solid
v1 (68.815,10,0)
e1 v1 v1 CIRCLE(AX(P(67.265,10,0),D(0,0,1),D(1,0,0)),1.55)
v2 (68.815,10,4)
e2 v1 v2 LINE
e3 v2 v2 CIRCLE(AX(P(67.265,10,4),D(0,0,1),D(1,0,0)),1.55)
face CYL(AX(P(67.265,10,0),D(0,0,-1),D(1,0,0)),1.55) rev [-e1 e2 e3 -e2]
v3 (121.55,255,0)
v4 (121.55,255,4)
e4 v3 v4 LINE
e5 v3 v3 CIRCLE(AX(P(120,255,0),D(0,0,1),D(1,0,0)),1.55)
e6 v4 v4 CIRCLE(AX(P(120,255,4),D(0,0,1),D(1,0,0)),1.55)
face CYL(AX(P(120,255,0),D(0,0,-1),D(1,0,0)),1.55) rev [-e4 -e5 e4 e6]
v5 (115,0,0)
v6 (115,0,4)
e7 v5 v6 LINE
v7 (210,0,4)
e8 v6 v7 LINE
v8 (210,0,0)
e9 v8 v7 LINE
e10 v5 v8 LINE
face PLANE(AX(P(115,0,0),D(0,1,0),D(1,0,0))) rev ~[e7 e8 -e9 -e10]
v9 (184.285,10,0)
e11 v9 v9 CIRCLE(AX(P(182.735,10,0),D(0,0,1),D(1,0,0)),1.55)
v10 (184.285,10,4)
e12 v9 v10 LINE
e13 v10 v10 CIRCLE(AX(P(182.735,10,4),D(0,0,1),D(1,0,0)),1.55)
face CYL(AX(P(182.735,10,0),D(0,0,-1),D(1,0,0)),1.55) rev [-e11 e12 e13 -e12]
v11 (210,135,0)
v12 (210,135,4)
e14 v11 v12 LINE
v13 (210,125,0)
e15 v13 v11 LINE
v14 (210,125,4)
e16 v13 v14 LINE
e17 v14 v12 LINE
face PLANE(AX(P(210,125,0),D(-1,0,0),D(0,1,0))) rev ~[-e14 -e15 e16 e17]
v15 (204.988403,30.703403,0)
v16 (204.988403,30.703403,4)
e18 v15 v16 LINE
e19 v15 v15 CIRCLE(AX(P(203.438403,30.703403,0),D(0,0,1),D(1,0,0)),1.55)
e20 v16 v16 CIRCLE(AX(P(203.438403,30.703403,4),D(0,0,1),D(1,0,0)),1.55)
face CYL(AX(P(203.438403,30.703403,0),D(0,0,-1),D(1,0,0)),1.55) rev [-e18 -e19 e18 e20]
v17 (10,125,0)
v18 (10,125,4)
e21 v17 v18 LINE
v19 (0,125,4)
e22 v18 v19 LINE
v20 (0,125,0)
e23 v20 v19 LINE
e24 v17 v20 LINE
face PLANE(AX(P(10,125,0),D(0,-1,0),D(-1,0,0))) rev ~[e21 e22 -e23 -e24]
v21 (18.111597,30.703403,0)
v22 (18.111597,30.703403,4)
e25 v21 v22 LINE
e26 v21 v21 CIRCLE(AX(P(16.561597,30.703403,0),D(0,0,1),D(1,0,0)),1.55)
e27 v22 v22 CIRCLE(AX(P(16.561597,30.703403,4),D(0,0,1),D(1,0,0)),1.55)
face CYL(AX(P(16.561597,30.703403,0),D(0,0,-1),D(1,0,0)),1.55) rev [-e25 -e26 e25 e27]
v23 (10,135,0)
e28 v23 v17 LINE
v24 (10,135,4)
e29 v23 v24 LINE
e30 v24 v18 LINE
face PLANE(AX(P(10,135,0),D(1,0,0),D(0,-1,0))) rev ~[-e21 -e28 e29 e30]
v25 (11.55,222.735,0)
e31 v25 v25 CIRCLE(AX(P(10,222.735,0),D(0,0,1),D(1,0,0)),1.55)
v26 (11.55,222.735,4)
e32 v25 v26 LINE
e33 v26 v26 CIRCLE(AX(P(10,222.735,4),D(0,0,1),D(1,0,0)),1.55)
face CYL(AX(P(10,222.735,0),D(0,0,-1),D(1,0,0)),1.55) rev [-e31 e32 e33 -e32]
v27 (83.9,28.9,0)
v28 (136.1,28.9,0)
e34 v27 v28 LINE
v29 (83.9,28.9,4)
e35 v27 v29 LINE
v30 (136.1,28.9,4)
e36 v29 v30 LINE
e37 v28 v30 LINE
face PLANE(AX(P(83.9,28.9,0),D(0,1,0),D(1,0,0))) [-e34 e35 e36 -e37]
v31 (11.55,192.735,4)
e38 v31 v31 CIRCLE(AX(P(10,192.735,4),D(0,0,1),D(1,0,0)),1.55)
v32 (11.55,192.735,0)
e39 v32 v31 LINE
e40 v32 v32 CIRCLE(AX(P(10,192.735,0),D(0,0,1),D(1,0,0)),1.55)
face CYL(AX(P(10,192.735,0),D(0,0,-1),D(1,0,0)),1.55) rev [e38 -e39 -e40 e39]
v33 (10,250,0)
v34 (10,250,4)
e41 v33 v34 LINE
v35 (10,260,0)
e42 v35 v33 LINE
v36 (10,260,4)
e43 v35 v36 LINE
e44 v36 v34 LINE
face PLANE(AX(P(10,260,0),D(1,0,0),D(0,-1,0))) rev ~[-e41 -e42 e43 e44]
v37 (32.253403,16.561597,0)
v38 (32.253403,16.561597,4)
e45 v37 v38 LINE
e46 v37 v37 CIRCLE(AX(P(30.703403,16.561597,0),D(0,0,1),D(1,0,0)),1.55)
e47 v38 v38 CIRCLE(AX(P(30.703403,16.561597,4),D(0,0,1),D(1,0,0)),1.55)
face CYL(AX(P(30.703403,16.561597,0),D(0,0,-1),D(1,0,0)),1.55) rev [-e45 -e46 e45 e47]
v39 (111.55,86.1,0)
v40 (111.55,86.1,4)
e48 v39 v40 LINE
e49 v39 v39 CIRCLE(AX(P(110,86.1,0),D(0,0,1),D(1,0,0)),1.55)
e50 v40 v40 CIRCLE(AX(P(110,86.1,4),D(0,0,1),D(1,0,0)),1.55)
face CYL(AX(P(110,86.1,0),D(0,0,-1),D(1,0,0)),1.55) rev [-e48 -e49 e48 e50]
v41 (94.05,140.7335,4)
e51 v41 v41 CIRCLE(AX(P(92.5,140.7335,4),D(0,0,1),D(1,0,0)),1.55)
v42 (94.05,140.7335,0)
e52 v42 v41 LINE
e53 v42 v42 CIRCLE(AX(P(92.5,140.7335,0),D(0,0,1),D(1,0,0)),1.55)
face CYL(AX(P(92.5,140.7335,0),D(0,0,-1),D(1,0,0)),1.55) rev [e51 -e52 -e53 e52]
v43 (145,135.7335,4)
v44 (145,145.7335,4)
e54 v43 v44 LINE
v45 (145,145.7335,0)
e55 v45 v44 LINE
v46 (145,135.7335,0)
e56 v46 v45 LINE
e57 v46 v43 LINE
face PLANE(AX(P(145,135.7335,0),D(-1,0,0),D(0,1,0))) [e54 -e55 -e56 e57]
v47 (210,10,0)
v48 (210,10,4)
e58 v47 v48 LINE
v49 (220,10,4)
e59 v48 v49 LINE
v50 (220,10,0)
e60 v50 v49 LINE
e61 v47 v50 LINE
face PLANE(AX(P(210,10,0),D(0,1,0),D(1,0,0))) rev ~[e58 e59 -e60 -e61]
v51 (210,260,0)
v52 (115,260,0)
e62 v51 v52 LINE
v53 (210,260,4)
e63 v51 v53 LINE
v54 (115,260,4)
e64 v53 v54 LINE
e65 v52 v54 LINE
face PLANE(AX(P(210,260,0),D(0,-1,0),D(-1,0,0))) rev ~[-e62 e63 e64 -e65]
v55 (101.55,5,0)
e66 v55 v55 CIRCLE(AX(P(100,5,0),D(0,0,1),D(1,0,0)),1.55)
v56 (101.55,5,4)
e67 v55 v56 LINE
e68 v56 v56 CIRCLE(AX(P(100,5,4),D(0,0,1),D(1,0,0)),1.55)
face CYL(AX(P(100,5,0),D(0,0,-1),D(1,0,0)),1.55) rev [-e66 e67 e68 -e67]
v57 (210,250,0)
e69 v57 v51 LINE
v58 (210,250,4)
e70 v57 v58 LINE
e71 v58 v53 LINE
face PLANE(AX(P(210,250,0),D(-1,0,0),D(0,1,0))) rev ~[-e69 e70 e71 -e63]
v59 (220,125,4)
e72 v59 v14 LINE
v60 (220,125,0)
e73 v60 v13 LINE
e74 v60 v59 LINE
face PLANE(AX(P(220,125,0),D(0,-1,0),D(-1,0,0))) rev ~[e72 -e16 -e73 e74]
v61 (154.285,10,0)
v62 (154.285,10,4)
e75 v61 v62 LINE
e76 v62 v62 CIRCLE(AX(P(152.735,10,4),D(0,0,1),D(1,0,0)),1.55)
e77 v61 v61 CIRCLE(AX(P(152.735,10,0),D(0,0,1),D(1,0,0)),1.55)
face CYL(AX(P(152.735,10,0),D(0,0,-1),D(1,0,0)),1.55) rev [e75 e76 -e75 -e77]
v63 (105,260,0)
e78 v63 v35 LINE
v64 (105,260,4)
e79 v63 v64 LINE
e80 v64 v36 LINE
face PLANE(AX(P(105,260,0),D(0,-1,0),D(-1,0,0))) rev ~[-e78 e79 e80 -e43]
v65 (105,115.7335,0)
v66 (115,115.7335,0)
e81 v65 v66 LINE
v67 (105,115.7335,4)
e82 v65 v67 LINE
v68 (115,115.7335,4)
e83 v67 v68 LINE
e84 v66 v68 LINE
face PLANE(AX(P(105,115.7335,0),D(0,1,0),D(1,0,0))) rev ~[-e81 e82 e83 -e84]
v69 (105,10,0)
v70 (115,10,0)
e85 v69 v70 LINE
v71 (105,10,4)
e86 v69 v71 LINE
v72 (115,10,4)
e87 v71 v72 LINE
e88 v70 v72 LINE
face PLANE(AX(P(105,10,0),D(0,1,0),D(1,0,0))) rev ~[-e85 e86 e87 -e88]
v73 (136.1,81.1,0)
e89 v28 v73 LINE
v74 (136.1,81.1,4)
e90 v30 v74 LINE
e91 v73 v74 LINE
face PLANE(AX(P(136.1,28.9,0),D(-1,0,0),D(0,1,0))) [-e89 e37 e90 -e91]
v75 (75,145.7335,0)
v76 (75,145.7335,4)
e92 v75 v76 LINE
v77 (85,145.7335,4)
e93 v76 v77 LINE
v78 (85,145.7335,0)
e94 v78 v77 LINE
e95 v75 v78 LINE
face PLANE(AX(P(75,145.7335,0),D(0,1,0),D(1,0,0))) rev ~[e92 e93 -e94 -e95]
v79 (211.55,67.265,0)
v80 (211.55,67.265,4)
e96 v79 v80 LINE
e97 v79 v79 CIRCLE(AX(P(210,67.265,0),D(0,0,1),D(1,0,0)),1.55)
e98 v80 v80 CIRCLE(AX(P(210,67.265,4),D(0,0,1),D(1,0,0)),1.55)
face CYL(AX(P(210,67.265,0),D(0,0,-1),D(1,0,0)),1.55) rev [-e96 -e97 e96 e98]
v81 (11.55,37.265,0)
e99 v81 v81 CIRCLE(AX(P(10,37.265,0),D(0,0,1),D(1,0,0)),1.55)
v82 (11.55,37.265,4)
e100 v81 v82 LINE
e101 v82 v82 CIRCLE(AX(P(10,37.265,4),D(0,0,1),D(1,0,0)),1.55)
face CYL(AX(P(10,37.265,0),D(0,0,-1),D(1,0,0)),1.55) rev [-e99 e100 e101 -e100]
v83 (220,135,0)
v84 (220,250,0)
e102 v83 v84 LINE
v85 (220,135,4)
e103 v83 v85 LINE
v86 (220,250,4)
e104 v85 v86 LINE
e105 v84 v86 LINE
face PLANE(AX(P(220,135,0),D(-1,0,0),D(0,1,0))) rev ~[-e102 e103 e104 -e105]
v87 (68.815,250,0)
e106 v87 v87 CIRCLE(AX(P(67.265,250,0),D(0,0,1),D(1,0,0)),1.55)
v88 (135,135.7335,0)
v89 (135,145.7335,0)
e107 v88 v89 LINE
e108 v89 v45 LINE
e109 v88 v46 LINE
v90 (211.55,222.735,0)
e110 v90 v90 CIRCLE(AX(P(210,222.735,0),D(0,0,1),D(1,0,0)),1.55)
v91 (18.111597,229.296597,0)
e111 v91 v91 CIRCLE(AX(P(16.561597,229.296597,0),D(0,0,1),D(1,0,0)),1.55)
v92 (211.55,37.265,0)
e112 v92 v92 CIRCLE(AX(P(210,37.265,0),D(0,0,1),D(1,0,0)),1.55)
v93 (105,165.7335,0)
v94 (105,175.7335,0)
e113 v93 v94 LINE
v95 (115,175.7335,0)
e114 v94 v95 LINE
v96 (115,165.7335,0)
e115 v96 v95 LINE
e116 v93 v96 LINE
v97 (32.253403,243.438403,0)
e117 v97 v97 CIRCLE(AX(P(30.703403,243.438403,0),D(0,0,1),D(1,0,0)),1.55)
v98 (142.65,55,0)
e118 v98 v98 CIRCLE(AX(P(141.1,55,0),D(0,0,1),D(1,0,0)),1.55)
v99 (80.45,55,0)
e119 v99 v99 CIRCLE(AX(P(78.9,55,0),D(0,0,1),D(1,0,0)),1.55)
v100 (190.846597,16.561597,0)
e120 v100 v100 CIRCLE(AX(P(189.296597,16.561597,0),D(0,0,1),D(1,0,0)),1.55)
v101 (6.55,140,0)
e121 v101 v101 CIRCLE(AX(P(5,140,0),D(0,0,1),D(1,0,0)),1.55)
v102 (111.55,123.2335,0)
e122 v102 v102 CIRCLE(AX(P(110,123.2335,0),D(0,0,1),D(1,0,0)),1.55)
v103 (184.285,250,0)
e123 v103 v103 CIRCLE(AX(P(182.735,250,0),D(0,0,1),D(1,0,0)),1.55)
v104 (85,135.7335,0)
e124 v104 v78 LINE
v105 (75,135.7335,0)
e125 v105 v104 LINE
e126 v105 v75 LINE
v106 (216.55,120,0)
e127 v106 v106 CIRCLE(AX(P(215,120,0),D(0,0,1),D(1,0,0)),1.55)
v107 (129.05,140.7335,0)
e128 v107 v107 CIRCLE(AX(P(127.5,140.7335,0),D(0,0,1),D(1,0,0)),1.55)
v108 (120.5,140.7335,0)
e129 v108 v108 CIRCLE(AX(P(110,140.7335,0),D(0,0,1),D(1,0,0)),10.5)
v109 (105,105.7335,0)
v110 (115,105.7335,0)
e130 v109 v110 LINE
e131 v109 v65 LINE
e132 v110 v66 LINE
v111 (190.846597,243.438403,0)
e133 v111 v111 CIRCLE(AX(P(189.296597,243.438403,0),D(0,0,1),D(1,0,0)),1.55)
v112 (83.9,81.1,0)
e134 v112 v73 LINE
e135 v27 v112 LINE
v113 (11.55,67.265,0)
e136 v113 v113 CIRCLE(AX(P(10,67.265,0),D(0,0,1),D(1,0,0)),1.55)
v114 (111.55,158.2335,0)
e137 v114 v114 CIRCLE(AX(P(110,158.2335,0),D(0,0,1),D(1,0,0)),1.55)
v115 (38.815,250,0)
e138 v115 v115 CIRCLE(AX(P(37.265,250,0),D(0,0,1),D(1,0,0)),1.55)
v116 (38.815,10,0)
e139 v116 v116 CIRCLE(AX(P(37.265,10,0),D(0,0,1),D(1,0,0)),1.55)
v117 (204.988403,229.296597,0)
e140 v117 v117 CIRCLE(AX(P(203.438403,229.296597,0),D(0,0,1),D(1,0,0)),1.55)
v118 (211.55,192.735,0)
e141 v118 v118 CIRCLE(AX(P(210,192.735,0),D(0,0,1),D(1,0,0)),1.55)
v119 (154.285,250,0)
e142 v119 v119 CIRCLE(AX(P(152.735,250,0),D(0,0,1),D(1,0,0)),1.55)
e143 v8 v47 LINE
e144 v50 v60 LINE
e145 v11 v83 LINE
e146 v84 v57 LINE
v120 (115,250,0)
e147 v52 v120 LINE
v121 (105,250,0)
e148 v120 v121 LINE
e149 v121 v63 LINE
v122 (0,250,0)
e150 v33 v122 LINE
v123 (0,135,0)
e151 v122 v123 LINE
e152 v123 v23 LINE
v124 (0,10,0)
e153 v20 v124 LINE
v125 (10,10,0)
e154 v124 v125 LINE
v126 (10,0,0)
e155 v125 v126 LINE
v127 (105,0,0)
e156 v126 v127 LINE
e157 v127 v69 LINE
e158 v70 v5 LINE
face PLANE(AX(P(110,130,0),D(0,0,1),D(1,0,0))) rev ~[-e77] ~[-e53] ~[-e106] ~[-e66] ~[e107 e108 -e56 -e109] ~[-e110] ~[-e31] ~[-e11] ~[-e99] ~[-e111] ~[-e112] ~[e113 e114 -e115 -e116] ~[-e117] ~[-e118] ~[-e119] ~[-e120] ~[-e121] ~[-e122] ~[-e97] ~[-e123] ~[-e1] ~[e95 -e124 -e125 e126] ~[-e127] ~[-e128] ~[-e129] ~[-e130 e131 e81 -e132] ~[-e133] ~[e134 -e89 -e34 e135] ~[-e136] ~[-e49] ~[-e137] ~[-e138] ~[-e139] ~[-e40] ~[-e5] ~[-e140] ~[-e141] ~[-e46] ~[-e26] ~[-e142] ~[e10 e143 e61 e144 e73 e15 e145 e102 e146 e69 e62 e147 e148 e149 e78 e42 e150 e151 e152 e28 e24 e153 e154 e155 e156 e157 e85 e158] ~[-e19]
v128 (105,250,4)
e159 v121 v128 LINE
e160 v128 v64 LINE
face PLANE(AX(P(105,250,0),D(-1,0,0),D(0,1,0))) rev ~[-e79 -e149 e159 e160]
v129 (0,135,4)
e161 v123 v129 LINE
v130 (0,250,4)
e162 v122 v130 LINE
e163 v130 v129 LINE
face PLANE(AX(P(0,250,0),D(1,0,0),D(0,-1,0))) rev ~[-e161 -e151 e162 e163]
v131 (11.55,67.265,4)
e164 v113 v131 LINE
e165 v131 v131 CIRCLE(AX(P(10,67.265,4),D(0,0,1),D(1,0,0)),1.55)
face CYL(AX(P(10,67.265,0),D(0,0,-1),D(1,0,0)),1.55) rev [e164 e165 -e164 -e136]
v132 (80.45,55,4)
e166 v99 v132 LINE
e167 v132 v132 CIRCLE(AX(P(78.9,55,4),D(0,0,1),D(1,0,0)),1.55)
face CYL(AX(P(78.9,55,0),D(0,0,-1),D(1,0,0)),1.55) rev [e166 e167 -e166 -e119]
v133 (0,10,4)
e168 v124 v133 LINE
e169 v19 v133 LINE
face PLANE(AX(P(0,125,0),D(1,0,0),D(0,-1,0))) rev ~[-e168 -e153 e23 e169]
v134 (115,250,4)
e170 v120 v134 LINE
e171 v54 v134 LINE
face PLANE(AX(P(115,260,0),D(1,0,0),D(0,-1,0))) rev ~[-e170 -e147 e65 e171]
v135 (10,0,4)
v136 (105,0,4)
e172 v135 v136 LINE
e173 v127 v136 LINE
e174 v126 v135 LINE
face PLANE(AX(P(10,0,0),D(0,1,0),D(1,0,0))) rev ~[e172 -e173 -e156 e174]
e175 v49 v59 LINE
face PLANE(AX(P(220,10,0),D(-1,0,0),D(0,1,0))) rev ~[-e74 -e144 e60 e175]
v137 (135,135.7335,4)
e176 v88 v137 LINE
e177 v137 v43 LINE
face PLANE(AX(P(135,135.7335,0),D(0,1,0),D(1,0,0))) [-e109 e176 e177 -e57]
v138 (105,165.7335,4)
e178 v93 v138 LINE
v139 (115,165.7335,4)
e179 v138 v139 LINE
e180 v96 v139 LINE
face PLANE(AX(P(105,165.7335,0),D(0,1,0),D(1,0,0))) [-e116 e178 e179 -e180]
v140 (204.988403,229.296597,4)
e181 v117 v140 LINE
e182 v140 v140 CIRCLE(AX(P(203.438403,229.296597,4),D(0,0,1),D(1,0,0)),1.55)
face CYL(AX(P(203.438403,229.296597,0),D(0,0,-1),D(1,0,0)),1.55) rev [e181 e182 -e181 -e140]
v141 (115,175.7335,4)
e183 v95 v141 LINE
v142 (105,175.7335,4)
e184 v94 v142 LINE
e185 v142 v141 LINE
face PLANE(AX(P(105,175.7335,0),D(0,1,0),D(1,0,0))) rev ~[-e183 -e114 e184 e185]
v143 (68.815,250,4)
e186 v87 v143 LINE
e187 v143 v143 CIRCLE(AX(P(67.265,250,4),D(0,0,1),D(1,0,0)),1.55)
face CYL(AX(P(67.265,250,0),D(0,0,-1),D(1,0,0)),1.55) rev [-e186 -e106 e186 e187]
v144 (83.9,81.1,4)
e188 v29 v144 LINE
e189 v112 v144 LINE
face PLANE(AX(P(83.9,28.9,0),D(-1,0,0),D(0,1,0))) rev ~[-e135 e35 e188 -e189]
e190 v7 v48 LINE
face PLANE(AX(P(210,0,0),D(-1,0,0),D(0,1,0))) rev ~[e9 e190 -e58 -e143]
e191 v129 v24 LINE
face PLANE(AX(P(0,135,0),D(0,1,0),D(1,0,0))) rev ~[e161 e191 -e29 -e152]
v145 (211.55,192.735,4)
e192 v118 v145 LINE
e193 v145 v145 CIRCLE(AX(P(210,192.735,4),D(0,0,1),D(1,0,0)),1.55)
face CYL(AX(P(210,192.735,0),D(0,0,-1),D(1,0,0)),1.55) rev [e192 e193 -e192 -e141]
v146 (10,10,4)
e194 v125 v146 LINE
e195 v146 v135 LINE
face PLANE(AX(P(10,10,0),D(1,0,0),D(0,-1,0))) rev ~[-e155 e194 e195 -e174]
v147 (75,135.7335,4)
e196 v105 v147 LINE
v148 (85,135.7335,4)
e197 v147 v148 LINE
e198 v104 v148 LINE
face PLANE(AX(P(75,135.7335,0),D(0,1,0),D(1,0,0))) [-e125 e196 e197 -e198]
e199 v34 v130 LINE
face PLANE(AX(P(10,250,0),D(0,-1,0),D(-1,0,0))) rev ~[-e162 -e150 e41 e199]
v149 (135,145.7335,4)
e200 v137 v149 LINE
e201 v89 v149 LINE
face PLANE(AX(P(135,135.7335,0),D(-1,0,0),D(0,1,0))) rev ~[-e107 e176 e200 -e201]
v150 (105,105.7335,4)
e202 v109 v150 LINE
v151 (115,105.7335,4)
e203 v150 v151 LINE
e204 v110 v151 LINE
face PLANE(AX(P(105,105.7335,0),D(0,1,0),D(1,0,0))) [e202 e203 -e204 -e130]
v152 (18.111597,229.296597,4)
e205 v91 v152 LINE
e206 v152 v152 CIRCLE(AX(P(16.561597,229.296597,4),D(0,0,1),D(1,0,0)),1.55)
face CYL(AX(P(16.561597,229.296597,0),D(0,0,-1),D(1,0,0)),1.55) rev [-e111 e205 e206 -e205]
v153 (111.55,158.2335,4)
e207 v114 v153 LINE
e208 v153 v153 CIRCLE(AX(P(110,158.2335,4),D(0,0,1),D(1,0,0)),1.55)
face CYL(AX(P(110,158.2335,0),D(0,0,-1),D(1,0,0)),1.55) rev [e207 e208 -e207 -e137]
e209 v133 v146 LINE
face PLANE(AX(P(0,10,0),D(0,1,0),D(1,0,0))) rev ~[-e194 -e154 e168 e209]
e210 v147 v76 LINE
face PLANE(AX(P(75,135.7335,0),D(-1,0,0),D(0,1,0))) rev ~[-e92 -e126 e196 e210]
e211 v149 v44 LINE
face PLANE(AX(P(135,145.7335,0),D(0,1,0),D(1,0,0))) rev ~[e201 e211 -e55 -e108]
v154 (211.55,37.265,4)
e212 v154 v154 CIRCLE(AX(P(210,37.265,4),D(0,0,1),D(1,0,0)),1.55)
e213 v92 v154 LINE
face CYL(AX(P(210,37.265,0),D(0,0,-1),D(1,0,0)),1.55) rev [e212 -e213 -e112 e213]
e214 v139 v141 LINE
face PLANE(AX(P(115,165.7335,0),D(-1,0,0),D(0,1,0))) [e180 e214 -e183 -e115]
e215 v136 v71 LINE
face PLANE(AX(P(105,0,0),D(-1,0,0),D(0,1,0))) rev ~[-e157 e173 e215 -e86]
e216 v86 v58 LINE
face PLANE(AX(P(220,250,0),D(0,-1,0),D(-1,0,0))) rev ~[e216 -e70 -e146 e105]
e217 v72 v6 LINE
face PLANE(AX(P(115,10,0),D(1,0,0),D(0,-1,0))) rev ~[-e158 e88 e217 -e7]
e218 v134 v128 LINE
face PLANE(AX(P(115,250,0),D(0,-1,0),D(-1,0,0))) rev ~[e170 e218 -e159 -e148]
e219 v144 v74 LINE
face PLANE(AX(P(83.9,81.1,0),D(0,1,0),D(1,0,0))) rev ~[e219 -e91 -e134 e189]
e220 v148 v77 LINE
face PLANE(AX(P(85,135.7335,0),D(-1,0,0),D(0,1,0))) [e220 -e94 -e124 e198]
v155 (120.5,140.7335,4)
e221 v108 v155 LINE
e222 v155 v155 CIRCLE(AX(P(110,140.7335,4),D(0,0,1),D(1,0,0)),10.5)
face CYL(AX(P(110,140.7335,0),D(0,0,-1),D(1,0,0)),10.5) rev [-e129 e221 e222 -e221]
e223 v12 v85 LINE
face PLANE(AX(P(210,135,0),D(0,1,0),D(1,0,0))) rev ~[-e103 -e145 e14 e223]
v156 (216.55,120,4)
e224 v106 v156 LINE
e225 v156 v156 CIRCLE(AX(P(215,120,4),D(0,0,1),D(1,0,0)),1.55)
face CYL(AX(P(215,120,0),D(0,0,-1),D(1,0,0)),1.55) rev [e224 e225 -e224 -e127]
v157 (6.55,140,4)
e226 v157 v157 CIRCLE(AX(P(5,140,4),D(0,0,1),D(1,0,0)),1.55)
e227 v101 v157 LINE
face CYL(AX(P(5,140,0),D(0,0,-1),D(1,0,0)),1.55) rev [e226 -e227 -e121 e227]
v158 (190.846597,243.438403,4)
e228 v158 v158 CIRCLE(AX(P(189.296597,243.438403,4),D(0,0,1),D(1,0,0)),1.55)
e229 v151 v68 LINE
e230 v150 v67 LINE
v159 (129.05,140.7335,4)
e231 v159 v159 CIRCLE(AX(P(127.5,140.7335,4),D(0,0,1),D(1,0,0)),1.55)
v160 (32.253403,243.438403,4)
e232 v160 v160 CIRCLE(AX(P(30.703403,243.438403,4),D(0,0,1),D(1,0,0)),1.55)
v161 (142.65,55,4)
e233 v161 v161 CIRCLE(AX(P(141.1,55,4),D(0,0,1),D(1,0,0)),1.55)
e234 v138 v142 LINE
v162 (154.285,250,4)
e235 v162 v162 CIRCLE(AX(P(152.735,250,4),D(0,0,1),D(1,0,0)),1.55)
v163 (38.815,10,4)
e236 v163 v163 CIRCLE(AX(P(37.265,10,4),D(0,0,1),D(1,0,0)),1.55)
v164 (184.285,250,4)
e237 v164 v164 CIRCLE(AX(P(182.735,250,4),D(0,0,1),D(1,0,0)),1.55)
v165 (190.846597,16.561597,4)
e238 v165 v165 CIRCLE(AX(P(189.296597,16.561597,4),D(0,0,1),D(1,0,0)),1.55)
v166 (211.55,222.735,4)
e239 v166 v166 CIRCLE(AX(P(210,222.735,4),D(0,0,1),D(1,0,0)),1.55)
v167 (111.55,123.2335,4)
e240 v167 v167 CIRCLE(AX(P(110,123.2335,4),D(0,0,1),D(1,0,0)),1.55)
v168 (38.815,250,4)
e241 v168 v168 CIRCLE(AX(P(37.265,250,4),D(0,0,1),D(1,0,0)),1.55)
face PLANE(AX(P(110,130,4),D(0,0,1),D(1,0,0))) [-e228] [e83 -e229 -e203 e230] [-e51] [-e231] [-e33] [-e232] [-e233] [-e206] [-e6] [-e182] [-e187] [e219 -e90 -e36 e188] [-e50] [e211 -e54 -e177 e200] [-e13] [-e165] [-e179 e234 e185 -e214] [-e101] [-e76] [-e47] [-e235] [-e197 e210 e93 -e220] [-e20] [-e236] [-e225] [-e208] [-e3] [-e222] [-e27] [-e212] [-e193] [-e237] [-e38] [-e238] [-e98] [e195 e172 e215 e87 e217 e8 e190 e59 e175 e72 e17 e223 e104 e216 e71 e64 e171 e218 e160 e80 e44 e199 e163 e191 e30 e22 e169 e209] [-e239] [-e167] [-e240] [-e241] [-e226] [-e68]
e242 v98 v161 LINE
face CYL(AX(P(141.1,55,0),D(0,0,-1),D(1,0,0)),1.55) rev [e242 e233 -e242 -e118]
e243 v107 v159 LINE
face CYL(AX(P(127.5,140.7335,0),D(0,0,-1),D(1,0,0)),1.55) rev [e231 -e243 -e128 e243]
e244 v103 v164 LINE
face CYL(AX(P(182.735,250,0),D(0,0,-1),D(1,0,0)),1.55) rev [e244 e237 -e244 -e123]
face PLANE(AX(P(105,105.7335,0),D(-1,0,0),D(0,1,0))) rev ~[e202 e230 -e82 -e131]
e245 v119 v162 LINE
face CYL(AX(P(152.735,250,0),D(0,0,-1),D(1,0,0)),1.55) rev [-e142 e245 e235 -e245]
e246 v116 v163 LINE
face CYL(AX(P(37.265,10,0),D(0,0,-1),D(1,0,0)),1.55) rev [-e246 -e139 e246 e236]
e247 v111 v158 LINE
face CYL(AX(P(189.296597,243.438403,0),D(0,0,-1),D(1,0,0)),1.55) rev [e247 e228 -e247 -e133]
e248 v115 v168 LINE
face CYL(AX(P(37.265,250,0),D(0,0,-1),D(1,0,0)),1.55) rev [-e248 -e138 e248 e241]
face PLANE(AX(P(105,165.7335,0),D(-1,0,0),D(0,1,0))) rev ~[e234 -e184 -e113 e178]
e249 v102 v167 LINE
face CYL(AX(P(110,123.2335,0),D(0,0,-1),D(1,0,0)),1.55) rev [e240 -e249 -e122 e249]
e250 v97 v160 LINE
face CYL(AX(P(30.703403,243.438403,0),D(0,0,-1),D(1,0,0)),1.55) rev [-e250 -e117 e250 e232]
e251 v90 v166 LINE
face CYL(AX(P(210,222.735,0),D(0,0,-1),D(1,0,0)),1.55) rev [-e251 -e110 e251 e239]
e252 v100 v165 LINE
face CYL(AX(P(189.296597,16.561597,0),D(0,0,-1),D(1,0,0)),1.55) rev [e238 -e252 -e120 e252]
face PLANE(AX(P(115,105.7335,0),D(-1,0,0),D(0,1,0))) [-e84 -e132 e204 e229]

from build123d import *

# Parameters (mm, degrees)
F0_R     = 1.55
F0_W     = 52.2
F0_H     = 52.2
F0_W_2   = 10
F0_H_2   = 10
F0_R_2   = 10.5
F1_DEPTH = 4


with BuildPart() as f1:
    # F0 (on Top) → F1 (new body)
    with BuildSketch(Plane.XY):
        Polygon((10, 10), (10, 0), (105, 0), (105, 10), (115, 10), (115, 0), (210, 0), (210, 10), (220, 10), (220, 125), (210, 125), (210, 135), (220, 135), (220, 250), (210, 250), (210, 260), (115, 260), (115, 250), (105, 250), (105, 260), (10, 260), (10, 250), (0, 250), (0, 135), (10, 135), (10, 125), (0, 125), (0, 10), align=None)
        with Locations((16.561597, 30.703403)):
            Circle(F0_R, mode=Mode.SUBTRACT)
        with Locations((37.265, 10)):
            Circle(F0_R, mode=Mode.SUBTRACT)
        with Locations((30.703403, 16.561597)):
            Circle(F0_R, mode=Mode.SUBTRACT)
        with Locations((10, 37.265)):
            Circle(F0_R, mode=Mode.SUBTRACT)
        with Locations((67.265, 10)):
            Circle(F0_R, mode=Mode.SUBTRACT)
        with Locations((100, 5)):
            Circle(F0_R, mode=Mode.SUBTRACT)
        with Locations((78.9, 55)):
            Circle(F0_R, mode=Mode.SUBTRACT)
        with Locations((10, 67.265)):
            Circle(F0_R, mode=Mode.SUBTRACT)
        with Locations((152.735, 10)):
            Circle(F0_R, mode=Mode.SUBTRACT)
        with Locations((110, 55)):
            Rectangle(F0_W, F0_H, mode=Mode.SUBTRACT)
        with Locations((141.1, 55)):
            Circle(F0_R, mode=Mode.SUBTRACT)
        with Locations((182.735, 10)):
            Circle(F0_R, mode=Mode.SUBTRACT)
        with Locations((189.296597, 16.561597)):
            Circle(F0_R, mode=Mode.SUBTRACT)
        with Locations((203.438403, 30.703403)):
            Circle(F0_R, mode=Mode.SUBTRACT)
        with Locations((210, 37.265)):
            Circle(F0_R, mode=Mode.SUBTRACT)
        with Locations((110, 86.1)):
            Circle(F0_R, mode=Mode.SUBTRACT)
        with Locations((110, 110.7335)):
            Rectangle(F0_W_2, F0_H_2, mode=Mode.SUBTRACT)
        with Locations((110, 123.2335)):
            Circle(F0_R, mode=Mode.SUBTRACT)
        with Locations((210, 67.265)):
            Circle(F0_R, mode=Mode.SUBTRACT)
        with Locations((215, 120)):
            Circle(F0_R, mode=Mode.SUBTRACT)
        with Locations((5, 140)):
            Circle(F0_R, mode=Mode.SUBTRACT)
        with Locations((10, 192.735)):
            Circle(F0_R, mode=Mode.SUBTRACT)
        with Locations((80, 140.7335)):
            Rectangle(F0_W_2, F0_H_2, mode=Mode.SUBTRACT)
        with Locations((92.5, 140.7335)):
            Circle(F0_R, mode=Mode.SUBTRACT)
        with Locations((10, 222.735)):
            Circle(F0_R, mode=Mode.SUBTRACT)
        with Locations((16.561597, 229.296597)):
            Circle(F0_R, mode=Mode.SUBTRACT)
        with Locations((30.703403, 243.438403)):
            Circle(F0_R, mode=Mode.SUBTRACT)
        with Locations((37.265, 250)):
            Circle(F0_R, mode=Mode.SUBTRACT)
        with Locations((67.265, 250)):
            Circle(F0_R, mode=Mode.SUBTRACT)
        with Locations((110, 140.7335)):
            Circle(F0_R_2, mode=Mode.SUBTRACT)
        with Locations((127.5, 140.7335)):
            Circle(F0_R, mode=Mode.SUBTRACT)
        with Locations((110, 158.2335)):
            Circle(F0_R, mode=Mode.SUBTRACT)
        with Locations((140, 140.7335)):
            Rectangle(F0_W_2, F0_H_2, mode=Mode.SUBTRACT)
        with Locations((110, 170.7335)):
            Rectangle(F0_W_2, F0_H_2, mode=Mode.SUBTRACT)
        with Locations((210, 192.735)):
            Circle(F0_R, mode=Mode.SUBTRACT)
        with Locations((120, 255)):
            Circle(F0_R, mode=Mode.SUBTRACT)
        with Locations((152.735, 250)):
            Circle(F0_R, mode=Mode.SUBTRACT)
        with Locations((210, 222.735)):
            Circle(F0_R, mode=Mode.SUBTRACT)
        with Locations((189.296597, 243.438403)):
            Circle(F0_R, mode=Mode.SUBTRACT)
        with Locations((182.735, 250)):
            Circle(F0_R, mode=Mode.SUBTRACT)
        with Locations((203.438403, 229.296597)):
            Circle(F0_R, mode=Mode.SUBTRACT)
    extrude(amount=F1_DEPTH)


solid = f1.part
